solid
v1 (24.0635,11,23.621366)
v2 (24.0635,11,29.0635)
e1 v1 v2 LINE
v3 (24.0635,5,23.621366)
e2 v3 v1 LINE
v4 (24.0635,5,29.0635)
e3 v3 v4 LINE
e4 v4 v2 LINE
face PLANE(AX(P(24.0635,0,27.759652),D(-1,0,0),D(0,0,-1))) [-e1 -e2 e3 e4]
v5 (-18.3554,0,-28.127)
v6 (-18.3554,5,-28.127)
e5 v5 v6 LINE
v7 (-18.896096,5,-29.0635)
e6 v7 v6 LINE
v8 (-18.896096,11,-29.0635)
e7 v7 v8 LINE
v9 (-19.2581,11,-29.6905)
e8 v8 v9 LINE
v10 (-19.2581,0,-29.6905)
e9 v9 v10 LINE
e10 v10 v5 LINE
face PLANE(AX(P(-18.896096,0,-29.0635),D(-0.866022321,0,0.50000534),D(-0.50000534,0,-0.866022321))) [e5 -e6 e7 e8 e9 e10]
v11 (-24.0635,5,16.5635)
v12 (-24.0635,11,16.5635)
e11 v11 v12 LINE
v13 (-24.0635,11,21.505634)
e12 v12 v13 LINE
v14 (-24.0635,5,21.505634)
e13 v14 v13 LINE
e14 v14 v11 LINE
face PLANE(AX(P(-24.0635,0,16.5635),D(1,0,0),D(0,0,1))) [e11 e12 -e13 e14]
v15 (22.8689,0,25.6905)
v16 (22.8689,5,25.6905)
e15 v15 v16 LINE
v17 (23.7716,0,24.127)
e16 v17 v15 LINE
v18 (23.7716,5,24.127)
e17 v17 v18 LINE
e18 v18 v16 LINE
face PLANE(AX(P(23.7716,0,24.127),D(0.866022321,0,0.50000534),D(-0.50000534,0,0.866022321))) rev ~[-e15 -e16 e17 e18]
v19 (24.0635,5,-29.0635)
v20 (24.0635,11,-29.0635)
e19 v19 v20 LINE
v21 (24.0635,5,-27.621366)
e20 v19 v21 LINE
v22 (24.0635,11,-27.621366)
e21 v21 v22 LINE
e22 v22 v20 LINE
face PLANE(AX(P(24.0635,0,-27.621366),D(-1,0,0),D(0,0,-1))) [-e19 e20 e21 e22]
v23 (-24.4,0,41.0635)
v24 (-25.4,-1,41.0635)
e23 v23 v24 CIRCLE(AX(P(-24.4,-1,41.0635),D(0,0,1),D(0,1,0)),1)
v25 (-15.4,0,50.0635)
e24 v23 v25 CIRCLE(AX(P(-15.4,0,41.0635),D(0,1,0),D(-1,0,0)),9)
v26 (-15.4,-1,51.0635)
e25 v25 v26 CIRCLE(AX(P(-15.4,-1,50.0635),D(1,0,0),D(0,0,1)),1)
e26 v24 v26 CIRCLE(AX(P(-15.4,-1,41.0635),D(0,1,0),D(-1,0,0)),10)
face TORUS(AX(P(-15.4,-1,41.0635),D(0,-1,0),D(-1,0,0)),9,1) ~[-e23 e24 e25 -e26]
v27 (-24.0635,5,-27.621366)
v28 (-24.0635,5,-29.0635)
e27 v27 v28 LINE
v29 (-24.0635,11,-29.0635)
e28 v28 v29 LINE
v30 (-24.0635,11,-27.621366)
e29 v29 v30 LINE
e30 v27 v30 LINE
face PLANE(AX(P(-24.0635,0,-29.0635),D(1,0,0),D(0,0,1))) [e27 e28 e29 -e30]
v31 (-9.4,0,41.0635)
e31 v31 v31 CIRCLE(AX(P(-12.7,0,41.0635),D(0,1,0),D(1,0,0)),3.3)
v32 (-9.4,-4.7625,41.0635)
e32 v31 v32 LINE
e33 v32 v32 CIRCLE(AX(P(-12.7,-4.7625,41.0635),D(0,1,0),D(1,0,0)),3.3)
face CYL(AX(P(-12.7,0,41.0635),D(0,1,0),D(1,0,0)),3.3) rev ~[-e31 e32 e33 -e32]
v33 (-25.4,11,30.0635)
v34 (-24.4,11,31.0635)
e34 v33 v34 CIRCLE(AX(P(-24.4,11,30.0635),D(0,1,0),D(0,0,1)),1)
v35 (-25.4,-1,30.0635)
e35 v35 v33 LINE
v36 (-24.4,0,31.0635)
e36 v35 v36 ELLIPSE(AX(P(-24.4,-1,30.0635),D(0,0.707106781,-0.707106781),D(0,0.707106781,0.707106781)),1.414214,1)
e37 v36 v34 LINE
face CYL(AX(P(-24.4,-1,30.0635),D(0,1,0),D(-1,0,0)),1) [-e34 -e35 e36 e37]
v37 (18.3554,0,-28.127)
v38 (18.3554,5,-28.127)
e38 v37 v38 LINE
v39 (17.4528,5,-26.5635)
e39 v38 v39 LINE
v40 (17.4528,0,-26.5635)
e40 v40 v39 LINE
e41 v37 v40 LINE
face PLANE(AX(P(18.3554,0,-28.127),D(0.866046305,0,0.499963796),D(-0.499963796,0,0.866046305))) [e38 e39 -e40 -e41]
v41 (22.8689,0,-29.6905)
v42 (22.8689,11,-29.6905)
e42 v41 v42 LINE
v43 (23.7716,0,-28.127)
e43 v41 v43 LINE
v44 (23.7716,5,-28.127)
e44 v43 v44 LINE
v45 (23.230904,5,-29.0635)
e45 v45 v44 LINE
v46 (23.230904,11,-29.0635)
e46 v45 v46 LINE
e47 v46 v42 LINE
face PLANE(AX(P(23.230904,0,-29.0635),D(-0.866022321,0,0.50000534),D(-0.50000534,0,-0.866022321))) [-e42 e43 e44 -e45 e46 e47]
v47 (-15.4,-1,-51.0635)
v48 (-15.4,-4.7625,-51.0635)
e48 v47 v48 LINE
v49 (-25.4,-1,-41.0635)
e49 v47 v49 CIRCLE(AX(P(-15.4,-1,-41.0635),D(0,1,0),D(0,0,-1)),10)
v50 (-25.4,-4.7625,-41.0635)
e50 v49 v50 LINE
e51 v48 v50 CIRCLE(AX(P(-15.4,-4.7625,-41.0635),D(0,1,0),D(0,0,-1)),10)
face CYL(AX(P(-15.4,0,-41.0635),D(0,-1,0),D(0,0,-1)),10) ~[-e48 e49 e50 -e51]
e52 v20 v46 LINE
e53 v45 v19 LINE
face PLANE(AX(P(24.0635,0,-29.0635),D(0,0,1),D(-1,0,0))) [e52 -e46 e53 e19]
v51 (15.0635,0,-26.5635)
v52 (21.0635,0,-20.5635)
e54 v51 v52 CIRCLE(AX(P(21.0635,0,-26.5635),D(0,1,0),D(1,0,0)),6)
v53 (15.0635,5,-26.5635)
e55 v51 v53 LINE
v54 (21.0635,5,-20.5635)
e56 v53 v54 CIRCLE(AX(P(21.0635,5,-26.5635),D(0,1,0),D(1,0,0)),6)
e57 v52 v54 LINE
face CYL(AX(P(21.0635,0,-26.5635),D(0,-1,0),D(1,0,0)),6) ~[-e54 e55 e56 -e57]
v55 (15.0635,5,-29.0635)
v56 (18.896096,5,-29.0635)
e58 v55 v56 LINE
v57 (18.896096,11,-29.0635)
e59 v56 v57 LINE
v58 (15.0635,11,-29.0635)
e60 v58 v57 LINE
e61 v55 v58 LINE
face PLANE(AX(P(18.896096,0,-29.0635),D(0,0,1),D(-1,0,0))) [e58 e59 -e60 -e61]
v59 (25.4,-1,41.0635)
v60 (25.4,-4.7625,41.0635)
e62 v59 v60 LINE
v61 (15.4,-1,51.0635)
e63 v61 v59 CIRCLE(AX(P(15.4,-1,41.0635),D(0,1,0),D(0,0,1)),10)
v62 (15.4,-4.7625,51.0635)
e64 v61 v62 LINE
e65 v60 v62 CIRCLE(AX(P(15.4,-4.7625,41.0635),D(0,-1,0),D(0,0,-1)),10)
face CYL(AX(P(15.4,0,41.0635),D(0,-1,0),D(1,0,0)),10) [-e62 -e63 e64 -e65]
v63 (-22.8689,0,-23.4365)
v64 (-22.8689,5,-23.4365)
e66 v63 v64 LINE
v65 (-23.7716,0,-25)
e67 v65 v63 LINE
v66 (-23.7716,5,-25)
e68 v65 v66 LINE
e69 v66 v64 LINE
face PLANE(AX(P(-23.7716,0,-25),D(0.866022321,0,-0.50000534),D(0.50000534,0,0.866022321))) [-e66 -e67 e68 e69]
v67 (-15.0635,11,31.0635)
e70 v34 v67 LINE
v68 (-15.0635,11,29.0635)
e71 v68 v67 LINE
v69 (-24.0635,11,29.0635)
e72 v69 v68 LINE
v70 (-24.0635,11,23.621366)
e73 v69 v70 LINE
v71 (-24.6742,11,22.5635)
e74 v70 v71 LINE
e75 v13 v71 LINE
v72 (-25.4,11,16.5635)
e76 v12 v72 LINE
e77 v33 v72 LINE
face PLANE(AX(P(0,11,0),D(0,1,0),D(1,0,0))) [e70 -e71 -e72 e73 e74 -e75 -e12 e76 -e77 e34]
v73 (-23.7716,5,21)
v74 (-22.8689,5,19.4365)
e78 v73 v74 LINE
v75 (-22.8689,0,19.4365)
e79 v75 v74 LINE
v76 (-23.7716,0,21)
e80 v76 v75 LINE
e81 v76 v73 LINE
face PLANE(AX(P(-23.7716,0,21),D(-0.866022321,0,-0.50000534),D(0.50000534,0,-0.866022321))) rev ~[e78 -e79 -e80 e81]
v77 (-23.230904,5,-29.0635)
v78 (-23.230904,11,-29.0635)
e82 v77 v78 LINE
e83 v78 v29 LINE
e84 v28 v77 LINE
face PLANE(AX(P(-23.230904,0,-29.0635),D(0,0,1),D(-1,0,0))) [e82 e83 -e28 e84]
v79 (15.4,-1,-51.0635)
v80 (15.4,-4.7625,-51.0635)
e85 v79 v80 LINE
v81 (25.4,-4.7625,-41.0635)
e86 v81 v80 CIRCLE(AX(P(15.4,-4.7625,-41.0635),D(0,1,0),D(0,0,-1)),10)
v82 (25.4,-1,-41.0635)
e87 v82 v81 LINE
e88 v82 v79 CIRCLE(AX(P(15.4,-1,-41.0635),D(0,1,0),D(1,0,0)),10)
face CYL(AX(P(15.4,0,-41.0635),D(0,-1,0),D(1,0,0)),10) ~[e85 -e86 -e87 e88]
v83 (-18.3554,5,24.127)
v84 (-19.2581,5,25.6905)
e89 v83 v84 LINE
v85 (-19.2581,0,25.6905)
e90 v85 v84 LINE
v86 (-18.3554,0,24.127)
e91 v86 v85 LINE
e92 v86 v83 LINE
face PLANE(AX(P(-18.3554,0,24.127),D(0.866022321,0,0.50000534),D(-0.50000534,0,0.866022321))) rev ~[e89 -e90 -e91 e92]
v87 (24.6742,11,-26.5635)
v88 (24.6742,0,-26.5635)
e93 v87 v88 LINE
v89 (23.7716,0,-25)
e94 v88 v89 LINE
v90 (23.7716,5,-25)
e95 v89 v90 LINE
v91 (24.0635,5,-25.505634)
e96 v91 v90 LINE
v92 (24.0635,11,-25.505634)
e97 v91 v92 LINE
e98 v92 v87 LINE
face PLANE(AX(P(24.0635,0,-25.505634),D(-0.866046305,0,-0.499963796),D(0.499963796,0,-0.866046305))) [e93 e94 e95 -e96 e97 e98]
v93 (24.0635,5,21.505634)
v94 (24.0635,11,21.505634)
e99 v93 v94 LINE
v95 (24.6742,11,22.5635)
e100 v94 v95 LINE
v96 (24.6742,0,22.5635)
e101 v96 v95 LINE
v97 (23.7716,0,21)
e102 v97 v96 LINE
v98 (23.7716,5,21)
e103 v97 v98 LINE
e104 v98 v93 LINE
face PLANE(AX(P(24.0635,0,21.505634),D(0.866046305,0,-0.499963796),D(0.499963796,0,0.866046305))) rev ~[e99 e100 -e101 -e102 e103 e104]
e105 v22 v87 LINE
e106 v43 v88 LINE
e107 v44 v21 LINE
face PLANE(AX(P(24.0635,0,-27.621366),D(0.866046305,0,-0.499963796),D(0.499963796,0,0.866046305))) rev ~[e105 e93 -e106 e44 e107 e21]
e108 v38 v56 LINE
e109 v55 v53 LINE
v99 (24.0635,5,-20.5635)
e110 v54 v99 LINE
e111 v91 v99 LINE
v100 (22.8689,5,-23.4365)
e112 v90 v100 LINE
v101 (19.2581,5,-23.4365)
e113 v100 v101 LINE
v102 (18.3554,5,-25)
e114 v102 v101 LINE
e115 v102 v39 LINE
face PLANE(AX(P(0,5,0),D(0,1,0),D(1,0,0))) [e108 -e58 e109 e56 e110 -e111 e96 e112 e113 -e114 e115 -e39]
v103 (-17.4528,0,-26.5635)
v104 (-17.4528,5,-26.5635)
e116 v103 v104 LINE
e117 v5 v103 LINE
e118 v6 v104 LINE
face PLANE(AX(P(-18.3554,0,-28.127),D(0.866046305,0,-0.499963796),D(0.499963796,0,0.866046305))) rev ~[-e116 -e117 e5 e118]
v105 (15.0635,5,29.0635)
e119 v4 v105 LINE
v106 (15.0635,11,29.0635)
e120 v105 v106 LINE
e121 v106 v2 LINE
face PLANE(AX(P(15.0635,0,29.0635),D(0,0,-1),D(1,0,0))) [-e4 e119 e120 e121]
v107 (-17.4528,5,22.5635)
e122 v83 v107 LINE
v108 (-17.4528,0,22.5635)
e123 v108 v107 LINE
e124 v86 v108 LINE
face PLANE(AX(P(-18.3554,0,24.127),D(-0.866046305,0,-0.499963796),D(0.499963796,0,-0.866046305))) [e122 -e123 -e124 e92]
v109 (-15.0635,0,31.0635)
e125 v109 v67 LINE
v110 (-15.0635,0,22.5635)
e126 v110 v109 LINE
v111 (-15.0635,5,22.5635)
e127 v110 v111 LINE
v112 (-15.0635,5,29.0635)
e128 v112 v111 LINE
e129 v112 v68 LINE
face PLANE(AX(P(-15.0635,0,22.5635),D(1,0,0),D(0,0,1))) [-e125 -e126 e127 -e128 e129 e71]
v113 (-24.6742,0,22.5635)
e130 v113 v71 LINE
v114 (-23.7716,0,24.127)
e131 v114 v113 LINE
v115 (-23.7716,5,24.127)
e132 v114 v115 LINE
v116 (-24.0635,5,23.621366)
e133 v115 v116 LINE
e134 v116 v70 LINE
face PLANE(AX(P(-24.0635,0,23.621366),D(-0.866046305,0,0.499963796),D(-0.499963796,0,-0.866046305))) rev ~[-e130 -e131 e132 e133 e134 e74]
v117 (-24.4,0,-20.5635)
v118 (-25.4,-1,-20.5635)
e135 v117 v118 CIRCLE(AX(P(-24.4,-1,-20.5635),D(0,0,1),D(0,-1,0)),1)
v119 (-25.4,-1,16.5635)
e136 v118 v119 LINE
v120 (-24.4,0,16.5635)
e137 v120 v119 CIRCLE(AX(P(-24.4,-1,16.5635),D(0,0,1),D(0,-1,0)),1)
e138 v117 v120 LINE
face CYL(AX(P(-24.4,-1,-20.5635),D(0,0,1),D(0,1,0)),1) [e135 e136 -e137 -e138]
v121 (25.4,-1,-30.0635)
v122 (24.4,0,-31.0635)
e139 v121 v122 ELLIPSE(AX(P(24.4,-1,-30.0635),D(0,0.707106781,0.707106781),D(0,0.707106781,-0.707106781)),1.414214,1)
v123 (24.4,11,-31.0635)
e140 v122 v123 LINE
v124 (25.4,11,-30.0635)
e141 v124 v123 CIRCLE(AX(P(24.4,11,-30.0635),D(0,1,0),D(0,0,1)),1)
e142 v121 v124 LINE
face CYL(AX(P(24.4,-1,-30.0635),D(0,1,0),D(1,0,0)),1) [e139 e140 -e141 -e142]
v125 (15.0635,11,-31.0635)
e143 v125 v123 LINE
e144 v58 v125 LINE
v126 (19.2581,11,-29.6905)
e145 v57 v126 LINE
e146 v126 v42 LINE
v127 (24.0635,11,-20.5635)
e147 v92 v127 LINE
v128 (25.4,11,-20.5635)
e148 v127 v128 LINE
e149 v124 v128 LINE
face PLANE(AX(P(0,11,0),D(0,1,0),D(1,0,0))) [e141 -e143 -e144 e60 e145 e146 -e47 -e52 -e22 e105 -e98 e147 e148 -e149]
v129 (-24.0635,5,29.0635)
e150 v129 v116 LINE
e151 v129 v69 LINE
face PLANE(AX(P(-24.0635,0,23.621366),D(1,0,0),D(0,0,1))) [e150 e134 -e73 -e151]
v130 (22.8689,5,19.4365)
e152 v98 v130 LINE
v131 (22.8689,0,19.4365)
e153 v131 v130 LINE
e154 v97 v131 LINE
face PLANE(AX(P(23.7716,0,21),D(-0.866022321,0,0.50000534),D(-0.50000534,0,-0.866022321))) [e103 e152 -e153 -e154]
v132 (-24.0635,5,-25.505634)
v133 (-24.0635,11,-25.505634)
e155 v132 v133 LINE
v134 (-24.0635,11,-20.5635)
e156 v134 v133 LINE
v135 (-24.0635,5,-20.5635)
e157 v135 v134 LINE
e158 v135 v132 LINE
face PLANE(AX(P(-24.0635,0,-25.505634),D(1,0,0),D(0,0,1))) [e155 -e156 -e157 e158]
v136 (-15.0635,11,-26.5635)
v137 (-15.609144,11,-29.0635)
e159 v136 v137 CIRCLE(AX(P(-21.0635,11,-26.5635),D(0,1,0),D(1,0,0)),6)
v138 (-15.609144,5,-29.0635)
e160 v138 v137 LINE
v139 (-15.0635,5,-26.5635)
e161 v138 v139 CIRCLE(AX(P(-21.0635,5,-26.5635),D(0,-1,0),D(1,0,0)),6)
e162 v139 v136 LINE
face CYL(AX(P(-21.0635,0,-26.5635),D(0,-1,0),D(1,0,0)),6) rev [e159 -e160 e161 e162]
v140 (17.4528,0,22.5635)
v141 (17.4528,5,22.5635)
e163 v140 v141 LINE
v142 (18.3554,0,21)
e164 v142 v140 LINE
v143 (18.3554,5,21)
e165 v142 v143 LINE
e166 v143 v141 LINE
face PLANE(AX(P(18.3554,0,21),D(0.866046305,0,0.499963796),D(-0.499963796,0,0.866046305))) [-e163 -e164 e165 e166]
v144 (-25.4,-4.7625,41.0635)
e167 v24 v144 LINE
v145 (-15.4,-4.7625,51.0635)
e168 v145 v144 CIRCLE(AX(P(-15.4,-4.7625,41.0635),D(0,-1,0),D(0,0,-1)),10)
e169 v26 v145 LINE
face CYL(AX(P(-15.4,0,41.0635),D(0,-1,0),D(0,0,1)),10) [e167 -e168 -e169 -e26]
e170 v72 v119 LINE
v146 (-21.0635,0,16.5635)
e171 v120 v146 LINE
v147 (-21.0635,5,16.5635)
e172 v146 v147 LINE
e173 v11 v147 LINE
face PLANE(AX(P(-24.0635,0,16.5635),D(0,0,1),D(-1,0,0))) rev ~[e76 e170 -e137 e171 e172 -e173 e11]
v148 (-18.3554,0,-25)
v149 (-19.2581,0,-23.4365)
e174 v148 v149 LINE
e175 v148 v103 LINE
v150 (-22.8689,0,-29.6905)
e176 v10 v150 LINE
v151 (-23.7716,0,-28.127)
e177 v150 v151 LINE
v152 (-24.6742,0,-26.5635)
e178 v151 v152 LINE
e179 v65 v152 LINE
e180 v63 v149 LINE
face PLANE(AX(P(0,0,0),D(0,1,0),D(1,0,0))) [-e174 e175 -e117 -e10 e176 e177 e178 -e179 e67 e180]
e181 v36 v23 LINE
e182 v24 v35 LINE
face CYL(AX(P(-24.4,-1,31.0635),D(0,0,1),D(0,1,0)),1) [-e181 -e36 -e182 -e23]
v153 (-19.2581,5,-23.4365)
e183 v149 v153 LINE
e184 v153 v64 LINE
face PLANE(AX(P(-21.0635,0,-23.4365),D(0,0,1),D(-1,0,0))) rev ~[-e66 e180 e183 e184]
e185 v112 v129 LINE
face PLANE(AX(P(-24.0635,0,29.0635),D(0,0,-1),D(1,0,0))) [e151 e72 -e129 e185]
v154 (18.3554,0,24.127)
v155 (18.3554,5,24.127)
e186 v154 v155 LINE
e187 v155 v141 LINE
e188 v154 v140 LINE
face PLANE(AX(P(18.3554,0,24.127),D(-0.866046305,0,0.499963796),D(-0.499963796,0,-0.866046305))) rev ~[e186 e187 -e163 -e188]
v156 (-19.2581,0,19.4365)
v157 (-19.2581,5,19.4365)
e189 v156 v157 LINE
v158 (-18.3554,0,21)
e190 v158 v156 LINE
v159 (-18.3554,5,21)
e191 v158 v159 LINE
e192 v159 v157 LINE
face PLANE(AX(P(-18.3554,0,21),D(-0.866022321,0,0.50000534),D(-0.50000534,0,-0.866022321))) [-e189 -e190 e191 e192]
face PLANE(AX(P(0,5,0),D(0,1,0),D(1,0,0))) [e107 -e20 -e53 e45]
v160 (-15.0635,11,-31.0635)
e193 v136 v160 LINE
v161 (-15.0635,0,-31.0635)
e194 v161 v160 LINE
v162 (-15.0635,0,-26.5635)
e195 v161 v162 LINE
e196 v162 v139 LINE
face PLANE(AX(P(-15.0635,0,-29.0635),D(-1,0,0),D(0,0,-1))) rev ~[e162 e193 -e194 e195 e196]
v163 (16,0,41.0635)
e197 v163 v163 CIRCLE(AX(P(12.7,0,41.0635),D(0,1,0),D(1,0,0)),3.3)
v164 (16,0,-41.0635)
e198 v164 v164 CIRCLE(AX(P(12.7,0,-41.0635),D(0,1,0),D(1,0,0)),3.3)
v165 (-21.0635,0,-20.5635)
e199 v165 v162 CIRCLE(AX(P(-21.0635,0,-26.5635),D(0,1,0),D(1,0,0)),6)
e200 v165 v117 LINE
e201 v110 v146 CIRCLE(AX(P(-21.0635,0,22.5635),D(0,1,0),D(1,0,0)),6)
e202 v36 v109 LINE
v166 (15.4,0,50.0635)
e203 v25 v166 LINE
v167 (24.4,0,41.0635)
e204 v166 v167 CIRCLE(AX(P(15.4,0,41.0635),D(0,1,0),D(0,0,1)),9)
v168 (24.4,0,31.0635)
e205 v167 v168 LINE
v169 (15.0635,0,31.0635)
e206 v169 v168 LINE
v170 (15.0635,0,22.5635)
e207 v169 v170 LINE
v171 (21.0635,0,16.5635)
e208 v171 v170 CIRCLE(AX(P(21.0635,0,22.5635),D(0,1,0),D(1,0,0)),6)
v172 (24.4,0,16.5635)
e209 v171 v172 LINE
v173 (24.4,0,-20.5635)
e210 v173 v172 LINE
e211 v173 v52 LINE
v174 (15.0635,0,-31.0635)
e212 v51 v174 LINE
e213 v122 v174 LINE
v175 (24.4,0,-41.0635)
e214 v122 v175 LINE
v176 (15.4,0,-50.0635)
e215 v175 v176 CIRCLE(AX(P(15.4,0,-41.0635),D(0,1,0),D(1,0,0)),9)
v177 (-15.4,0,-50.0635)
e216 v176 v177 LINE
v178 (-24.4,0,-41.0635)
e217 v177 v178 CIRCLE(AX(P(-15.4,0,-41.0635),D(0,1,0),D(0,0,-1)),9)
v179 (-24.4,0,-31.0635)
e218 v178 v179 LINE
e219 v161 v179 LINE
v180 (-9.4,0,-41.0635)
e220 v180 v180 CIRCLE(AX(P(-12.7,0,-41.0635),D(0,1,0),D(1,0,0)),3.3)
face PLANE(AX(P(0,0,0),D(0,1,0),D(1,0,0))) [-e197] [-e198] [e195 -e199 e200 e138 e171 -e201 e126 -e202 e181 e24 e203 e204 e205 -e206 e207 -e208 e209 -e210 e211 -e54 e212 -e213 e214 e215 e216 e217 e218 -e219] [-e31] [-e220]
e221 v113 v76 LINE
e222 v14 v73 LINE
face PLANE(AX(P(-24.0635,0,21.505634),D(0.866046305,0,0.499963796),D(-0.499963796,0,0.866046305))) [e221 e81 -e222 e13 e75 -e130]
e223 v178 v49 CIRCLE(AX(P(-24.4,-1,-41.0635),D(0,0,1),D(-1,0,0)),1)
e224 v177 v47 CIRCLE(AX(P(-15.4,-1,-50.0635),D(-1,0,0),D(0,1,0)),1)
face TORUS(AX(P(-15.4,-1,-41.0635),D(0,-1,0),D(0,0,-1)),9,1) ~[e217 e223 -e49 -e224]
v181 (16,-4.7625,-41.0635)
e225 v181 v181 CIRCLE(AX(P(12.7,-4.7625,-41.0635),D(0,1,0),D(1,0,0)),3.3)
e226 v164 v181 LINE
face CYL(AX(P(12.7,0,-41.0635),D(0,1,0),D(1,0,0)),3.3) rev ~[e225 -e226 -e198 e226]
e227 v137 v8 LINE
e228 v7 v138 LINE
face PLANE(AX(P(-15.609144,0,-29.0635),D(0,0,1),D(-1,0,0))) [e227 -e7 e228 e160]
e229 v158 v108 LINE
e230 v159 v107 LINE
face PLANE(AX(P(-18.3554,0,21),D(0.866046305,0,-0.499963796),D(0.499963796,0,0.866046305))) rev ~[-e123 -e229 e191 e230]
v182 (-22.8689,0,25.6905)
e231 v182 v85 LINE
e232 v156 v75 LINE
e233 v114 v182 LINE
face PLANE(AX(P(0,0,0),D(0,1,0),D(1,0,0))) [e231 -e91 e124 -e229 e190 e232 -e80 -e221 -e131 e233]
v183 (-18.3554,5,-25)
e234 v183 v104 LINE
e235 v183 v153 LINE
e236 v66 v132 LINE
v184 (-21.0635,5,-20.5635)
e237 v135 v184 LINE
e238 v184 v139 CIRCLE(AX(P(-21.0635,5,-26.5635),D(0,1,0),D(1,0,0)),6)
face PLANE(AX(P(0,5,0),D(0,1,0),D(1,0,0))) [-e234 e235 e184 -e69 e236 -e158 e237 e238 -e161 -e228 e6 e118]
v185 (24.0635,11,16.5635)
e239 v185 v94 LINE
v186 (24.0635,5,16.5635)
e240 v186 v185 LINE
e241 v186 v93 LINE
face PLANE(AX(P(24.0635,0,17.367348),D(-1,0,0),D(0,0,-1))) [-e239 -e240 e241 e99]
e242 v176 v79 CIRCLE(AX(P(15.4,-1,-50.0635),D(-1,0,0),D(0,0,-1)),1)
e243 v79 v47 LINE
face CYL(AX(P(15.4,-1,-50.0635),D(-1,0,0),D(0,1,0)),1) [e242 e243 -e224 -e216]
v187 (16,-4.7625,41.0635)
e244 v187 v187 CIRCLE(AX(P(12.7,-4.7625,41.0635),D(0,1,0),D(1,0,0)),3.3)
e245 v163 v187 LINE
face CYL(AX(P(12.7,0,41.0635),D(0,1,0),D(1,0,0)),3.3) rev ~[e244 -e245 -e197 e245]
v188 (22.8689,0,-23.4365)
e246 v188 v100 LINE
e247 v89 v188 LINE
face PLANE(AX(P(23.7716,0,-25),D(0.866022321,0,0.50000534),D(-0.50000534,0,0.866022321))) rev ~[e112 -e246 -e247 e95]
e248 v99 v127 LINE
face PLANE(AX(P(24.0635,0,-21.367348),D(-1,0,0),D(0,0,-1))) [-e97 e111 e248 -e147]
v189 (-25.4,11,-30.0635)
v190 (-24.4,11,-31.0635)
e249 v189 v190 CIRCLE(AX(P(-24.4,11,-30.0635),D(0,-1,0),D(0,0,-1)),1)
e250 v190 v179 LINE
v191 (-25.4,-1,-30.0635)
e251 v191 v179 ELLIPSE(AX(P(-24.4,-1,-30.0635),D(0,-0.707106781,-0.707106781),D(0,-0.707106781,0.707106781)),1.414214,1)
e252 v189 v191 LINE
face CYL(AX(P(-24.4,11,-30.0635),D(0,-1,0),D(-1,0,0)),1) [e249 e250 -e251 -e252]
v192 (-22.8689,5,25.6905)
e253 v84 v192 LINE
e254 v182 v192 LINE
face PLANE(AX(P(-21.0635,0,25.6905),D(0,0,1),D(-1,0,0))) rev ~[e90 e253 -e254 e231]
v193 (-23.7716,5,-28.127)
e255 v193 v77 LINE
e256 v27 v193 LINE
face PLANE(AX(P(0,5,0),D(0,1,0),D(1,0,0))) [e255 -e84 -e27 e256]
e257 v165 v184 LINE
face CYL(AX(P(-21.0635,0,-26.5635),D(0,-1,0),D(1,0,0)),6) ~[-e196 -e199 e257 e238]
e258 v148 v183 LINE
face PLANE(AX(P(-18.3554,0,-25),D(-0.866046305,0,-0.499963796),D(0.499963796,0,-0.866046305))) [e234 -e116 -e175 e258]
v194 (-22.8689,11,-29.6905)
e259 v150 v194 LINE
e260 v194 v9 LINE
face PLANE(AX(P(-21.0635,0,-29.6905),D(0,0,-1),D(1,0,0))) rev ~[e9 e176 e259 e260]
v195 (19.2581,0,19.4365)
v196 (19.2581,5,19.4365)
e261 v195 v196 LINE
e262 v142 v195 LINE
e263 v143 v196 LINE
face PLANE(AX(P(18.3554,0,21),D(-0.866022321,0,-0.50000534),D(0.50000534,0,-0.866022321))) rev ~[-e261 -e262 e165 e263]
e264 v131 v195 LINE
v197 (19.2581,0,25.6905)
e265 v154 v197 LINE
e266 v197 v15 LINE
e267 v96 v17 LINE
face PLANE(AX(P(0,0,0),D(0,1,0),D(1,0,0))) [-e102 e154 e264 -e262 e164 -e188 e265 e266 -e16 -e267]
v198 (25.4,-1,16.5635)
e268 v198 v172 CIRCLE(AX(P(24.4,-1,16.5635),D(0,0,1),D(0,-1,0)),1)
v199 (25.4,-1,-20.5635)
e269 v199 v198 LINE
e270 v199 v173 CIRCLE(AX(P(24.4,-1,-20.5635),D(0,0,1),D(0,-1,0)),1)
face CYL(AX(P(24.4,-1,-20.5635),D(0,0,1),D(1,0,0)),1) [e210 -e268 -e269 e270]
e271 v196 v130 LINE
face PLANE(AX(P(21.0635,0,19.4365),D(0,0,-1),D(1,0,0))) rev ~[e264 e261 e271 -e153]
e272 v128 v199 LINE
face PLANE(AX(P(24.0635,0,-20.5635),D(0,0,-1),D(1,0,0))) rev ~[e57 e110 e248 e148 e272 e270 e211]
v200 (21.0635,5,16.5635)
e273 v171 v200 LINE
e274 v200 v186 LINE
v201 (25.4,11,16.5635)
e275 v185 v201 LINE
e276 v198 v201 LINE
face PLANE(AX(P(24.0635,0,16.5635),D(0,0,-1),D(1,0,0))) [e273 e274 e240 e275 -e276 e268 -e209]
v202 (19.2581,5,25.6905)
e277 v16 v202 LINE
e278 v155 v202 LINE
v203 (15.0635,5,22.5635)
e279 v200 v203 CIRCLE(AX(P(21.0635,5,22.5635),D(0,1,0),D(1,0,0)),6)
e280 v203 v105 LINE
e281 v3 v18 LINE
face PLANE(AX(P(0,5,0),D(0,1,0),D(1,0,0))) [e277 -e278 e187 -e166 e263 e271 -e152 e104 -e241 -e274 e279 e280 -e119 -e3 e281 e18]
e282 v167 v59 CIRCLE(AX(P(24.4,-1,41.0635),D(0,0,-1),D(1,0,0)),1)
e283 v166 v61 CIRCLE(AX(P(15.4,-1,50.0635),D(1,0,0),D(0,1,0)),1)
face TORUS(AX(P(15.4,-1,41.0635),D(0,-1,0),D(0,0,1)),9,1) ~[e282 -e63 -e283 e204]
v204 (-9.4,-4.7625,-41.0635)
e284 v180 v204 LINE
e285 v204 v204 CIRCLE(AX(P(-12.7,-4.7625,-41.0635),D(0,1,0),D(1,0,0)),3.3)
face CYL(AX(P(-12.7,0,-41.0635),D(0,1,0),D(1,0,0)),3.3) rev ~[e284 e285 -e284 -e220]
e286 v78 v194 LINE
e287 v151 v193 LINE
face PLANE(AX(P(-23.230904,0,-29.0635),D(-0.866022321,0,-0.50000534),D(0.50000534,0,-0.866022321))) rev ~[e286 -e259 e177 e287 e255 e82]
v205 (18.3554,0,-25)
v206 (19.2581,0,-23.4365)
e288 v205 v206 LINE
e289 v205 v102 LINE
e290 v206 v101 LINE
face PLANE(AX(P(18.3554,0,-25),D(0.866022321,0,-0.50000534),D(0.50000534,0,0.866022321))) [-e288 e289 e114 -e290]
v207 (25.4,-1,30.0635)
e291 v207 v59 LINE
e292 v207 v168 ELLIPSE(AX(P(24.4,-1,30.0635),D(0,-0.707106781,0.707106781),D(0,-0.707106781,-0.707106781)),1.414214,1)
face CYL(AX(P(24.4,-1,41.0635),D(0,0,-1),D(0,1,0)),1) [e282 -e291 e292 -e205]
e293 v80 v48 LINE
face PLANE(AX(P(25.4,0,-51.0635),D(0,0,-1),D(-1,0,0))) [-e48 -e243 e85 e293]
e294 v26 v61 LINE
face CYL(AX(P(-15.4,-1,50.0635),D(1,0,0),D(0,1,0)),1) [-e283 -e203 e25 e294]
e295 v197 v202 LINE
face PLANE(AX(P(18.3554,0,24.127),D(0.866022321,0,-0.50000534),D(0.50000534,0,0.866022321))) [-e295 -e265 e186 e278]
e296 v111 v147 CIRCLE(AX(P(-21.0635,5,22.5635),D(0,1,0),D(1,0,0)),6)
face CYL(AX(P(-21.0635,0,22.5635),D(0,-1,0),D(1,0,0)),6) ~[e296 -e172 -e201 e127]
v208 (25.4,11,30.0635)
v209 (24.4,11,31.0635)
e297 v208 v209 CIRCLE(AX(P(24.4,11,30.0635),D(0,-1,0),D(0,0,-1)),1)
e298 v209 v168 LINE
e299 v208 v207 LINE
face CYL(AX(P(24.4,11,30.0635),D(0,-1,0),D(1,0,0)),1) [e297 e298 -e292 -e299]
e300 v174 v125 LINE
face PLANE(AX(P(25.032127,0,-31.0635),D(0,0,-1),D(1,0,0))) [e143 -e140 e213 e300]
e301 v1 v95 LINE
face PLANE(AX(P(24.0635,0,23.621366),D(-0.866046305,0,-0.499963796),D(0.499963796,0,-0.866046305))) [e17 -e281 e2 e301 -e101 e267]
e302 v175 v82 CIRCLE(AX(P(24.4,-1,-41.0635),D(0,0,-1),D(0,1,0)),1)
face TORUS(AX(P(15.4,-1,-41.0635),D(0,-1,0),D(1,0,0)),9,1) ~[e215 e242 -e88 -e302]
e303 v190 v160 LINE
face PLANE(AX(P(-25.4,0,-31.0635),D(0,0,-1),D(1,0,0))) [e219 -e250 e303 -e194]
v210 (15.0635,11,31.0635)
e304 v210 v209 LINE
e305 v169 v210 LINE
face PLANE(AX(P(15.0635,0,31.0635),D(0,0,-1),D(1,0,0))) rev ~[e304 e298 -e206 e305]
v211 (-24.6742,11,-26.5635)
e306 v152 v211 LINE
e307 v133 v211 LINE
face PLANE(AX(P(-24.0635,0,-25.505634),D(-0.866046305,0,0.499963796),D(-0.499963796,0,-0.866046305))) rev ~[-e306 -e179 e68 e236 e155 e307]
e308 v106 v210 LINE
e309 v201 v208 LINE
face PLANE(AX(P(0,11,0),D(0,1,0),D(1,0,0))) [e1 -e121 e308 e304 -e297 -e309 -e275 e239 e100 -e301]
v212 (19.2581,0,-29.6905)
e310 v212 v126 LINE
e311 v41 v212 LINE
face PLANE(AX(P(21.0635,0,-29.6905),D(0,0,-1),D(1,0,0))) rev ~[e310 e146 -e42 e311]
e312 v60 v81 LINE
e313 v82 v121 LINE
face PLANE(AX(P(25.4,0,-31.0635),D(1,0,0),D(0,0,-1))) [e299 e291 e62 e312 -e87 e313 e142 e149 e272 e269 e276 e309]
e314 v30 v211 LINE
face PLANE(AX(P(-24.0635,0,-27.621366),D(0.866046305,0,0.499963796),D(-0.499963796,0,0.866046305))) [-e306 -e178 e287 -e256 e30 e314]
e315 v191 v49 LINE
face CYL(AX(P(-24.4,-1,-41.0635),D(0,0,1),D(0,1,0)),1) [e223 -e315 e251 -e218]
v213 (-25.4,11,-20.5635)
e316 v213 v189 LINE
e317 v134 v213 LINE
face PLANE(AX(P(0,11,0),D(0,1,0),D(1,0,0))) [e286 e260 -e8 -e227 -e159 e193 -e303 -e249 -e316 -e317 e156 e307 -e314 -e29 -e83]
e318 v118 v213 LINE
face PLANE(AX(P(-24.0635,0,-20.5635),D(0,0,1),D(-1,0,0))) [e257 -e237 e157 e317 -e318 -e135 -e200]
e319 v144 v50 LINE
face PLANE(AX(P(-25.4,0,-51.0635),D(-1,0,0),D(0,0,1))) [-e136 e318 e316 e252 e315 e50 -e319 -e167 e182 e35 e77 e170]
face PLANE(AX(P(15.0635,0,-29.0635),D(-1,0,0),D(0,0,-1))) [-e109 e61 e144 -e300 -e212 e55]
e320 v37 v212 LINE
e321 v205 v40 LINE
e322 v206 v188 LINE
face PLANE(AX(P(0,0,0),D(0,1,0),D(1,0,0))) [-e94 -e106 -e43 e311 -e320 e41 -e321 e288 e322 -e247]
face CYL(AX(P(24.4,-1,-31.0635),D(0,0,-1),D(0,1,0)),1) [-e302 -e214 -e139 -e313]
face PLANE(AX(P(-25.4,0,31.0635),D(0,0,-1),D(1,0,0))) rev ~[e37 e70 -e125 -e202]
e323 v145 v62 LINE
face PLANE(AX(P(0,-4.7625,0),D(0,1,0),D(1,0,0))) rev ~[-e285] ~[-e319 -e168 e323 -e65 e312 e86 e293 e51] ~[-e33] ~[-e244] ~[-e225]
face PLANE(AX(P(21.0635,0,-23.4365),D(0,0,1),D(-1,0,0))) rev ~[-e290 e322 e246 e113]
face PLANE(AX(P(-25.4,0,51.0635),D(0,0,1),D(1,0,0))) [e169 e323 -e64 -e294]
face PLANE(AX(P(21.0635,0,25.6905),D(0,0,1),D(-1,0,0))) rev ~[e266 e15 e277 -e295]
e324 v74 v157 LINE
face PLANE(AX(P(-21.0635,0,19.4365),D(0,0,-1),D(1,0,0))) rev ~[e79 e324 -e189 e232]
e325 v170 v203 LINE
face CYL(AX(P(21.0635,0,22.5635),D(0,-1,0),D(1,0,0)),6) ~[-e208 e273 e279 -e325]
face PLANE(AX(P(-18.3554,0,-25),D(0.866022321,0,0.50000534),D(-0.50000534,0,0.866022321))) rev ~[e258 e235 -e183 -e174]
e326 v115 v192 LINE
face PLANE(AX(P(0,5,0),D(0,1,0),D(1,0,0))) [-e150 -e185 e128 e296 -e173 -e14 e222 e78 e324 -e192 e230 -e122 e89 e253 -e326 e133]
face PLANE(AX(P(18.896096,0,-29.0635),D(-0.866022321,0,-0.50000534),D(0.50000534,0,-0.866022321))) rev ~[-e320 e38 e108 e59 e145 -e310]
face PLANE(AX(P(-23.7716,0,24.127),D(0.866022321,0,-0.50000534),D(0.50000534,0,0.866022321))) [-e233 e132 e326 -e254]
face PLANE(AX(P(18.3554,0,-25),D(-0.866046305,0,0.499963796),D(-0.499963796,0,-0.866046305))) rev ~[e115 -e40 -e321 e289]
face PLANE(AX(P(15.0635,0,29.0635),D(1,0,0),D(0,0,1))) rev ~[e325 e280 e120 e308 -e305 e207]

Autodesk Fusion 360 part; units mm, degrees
sketch "Sketch1" plane through (0, 0, 0) normal (0, 1, 0) x (1, 0, 0)
  line L0 (0, 0) -> (42.469, 0) construction
  line L1 (0, 0) -> (0, 48.4717) construction
  line L2 (25.4, 51.0635) -> (-25.4, 51.0635)
  line L3 (-25.4, 51.0635) -> (-25.4, -51.0635)
  line L4 (-25.4, -51.0635) -> (25.4, -51.0635)
  line L5 (25.4, -51.0635) -> (25.4, 51.0635)
  line L6 (25.4, 51.0635) -> (-25.4, -51.0635) construction
  line L7 (-25.4, 51.0635) -> (25.4, -51.0635) construction
  line L8 (24.0635, 29.0635) -> (-24.0635, 29.0635)
  line L9 (-24.0635, 29.0635) -> (-24.0635, -29.0635)
  line L10 (-24.0635, -29.0635) -> (24.0635, -29.0635)
  line L11 (24.0635, -29.0635) -> (24.0635, 29.0635)
  line L12 (24.0635, 29.0635) -> (-24.0635, -29.0635) construction
  line L13 (-24.0635, 29.0635) -> (24.0635, -29.0635) construction
  circle A0 centre (-21.0635, 26.5635) radius 3.127 construction
  line L14 (-21.0635, 29.6905) -> (-19.2581, 29.6905)
  line L15 (-21.0635, 26.5635) -> (-21.0635, 33) construction
  line L16 (-21.0635, 29.6905) -> (-22.8689, 29.6905)
  line L17 (-23.7716, 28.127) -> (-22.8689, 29.6905)
  line L18 (-23.7716, 28.127) -> (-24.6742, 26.5635)
  line L19 (-23.7716, 25) -> (-24.6742, 26.5635)
  line L20 (-23.7716, 25) -> (-22.8689, 23.4365)
  line L21 (-21.0635, 23.4365) -> (-22.8689, 23.4365)
  line L22 (-21.0635, 23.4365) -> (-19.2581, 23.4365)
  line L23 (-18.3554, 25) -> (-19.2581, 23.4365)
  line L24 (-18.3554, 25) -> (-17.4528, 26.5635)
  line L25 (-18.3554, 28.127) -> (-17.4528, 26.5635)
  line L26 (-18.3554, 28.127) -> (-19.2581, 29.6905)
  line L27 (-25.4, 31.0635) -> (25.4, 31.0635)
  line L28 (-24, 2) -> (-9, 2) construction
  line L29 (18.3554, 28.127) -> (17.4528, 26.5635)
  line L30 (18.3554, 28.127) -> (19.2581, 29.6905)
  line L31 (21.0635, 29.6905) -> (19.2581, 29.6905)
  line L32 (21.0635, 29.6905) -> (22.8689, 29.6905)
  line L33 (23.7716, 28.127) -> (22.8689, 29.6905)
  line L34 (23.7716, 28.127) -> (24.6742, 26.5635)
  line L35 (23.7716, 25) -> (24.6742, 26.5635)
  line L36 (23.7716, 25) -> (22.8689, 23.4365)
  line L37 (21.0635, 23.4365) -> (22.8689, 23.4365)
  line L38 (21.0635, 23.4365) -> (19.2581, 23.4365)
  line L39 (18.3554, 25) -> (19.2581, 23.4365)
  line L40 (18.3554, 25) -> (17.4528, 26.5635)
  line L41 (-21.0635, -25.6905) -> (-19.2581, -25.6905)
  line L42 (-21.0635, -25.6905) -> (-22.8689, -25.6905)
  line L43 (-23.7716, -24.127) -> (-22.8689, -25.6905)
  line L44 (-23.7716, -24.127) -> (-24.6742, -22.5635)
  line L45 (-23.7716, -21) -> (-24.6742, -22.5635)
  line L46 (-23.7716, -21) -> (-22.8689, -19.4365)
  line L47 (-21.0635, -19.4365) -> (-22.8689, -19.4365)
  line L48 (-21.0635, -19.4365) -> (-19.2581, -19.4365)
  line L49 (-18.3554, -21) -> (-19.2581, -19.4365)
  line L50 (-18.3554, -21) -> (-17.4528, -22.5635)
  line L51 (-18.3554, -24.127) -> (-17.4528, -22.5635)
  line L52 (-18.3554, -24.127) -> (-19.2581, -25.6905)
  line L53 (21.0635, -25.6905) -> (19.2581, -25.6905)
  line L54 (21.0635, -25.6905) -> (22.8689, -25.6905)
  line L55 (23.7716, -24.127) -> (22.8689, -25.6905)
  line L56 (23.7716, -24.127) -> (24.6742, -22.5635)
  line L57 (23.7716, -21) -> (24.6742, -22.5635)
  line L58 (23.7716, -21) -> (22.8689, -19.4365)
  line L59 (21.0635, -19.4365) -> (22.8689, -19.4365)
  line L60 (21.0635, -19.4365) -> (19.2581, -19.4365)
  line L61 (18.3554, -21) -> (19.2581, -19.4365)
  line L62 (18.3554, -21) -> (17.4528, -22.5635)
  line L63 (18.3554, -24.127) -> (17.4528, -22.5635)
  line L64 (18.3554, -24.127) -> (19.2581, -25.6905)
  line L65 (-25.4, -31.0635) -> (25.4, -31.0635)
  circle A1 centre (-12.7, 41.0635) radius 3.3
  circle A2 centre (12.7, 41.0635) radius 3.3
  circle A3 centre (12.7, -41.0635) radius 3.3
  circle A4 centre (-12.7, -41.0635) radius 3.3
  circle A5 centre (-21.0635, 26.5635) radius 6
  line L66 (-21.0635, 20.5635) -> (-25.4, 20.5635)
  line L67 (-15.0635, 26.5635) -> (-15.0635, 31.0635)
  line L68 (21.0635, 20.5635) -> (25.4, 20.5635)
  circle A6 centre (21.0635, 26.5635) radius 6
  line L69 (15.0635, 26.5635) -> (15.0635, 31.0635)
  circle A7 centre (21.0635, -22.5635) radius 6
  line L70 (15.0635, -22.5635) -> (15.0635, -27.0635)
  line L71 (21.0635, -16.5635) -> (25.4, -16.5635)
  circle A8 centre (-21.0635, -22.5635) radius 6
  line L72 (-21.0635, -16.5635) -> (-25.4, -16.5635)
  line L73 (-15.0635, -22.5635) -> (-15.0635, -27.0635)
  line L74 (-15.0635, -27.0635) -> (-15.0635, -31.0635)
  line L75 (15.0635, -27.0635) -> (15.0635, -31.0635)
  point P0 (-21.0635, 26.5635)
  point P1 (-21.0635, -22.5635)
  dimension "d24" = 50.8
  dimension "d26" = 58.127
  dimension "d27" = 48.127
  dimension "d28" = 3
  dimension "d29" = 2.5
  dimension "d30" = 6.254
  dimension "d32" = 360
  dimension "d33" = 6.5
  dimension "d34" = 2
  dimension "d35" = 6.6
  dimension "d36" = 12.7
  dimension "d37" = 10
  dimension "d38" = 10
  dimension "d41" = 12
extrude "Extrude1" add sketch "Sketch1" against normal blind 4.7625 contours L2 L3 L5 L27 A5 A6 | L5 L27 A6 | L3 L27 A5 | L5 L8 L11 L27 L30 L31 L32 L33 L34 L35 A6 | L27 A6 | L3 L8 L9 L14 L16 L17 L18 L19 L26 L27 A5 | L27 A5 | L5 L11 L68 A6 | L8 L27 A6 L69 | L3 L9 A5 L66 | L8 L27 A5 L67 | L5 L11 L68 L71 | L8 L11 L29 L30 L35 L36 L37 L38 L39 L40 A6 | L11 L68 A6 | L8 L27 L67 L69 | L8 A6 L69 | L3 L9 L66 L72 | L9 A5 L66 | L8 L9 L19 L20 L21 L22 L23 L24 L25 L26 A5 | L8 A5 L67 | L5 L11 A7 L71 | L8 L9 L10 L11 A5 L66 L67 L68 A6 L69 A7 L70 L71 A8 L72 L73 L74 L75 | L8 L11 L29 L30 L33 L34 L35 L36 L37 L38 L39 L40 | L11 L34 L35 | L8 L30 L31 L32 L33 | L3 L9 A8 L72 | L9 L18 L19 | L8 L9 L17 L18 L19 L20 L21 L22 L23 L24 L25 L26 | L8 L14 L16 L17 L26 | L5 L11 L56 L57 A7 | L11 A7 L71 | L8 L11 L33 L34 | L3 L9 L44 L45 A8 | L9 A8 L72 | L8 L9 L17 L18 | L5 L10 L11 L65 A7 L75 | L11 L53 L54 L55 L56 L57 L58 L59 L60 L61 L62 L63 L64 A7 | L3 L9 L10 L65 A8 L74 | L9 L41 L42 L43 L44 L45 L46 L47 L48 L49 L50 L51 L52 A8 | L3 L4 L5 L65 | L10 L11 A7 L70 L75 | L11 L56 L57 | L11 L53 L54 L55 L56 L57 L58 L59 L60 L61 L62 L63 L64 | L9 L10 A8 L73 L74 | L9 L41 L42 L43 L44 L45 L46 L47 L48 L49 L50 L51 L52 | L9 L44 L45 | L10 L65 L74 L75
extrude "Extrude2" add sketch "Sketch1" along normal blind 5 contours L5 L27 A6 | L3 L27 A5 | L5 L8 L11 L27 L30 L31 L32 L33 L34 L35 A6 | L3 L8 L9 L14 L16 L17 L18 L19 L26 L27 A5 | L5 L11 L68 A6 | L8 L27 A6 L69 | L3 L9 A5 L66 | L8 L27 A5 L67 | L8 L11 L29 L30 L35 L36 L37 L38 L39 L40 A6 | L11 L68 A6 | L8 A6 L69 | L9 A5 L66 | L8 L9 L19 L20 L21 L22 L23 L24 L25 L26 A5 | L8 A5 L67 | L5 L11 A7 L71 | L3 L9 A8 L72 | L5 L11 L56 L57 A7 | L11 A7 L71 | L8 L11 L33 L34 | L3 L9 L44 L45 A8 | L9 A8 L72 | L8 L9 L17 L18 | L5 L10 L11 L65 A7 L75 | L11 L53 L54 L55 L56 L57 L58 L59 L60 L61 L62 L63 L64 A7 | L3 L9 L10 L65 A8 L74 | L9 L41 L42 L43 L44 L45 L46 L47 L48 L49 L50 L51 L52 A8 | L10 L11 A7 L70 L75 | L9 L10 A8 L73 L74
extrude "Extrude3" add sketch "Sketch1" along normal blind 11 contours L5 L27 A6 | L3 L27 A5 | L5 L8 L11 L27 L30 L31 L32 L33 L34 L35 A6 | L3 L8 L9 L14 L16 L17 L18 L19 L26 L27 A5 | L5 L11 L68 A6 | L8 L27 A6 L69 | L3 L9 A5 L66 | L8 L27 A5 L67 | L8 A5 L67 | L5 L11 A7 L71 | L3 L9 A8 L72 | L5 L11 L56 L57 A7 | L3 L9 L44 L45 A8 | L5 L10 L11 L65 A7 L75 | L3 L9 L10 L65 A8 L74
fillet "Fillet1" radius 10 4 edges at (-25.4, -2.3813, 51.0635) (25.4, -2.3813, 51.0635) (-25.4, -2.3813, -51.0635) (25.4, -2.3813, -51.0635)
fillet "Fillet2" radius 1 12 edges at (-25.4, 0, 36.0635) (-22.4711, 0, 48.1346) (0, 0, 51.0635) (22.4711, 0, 48.1346) (25.4, 0, 36.0635) (25.4, 0, -2) (-25.4, 0, -2) (-25.4, 0, -36.0635) (-22.4711, 0, -48.1346) (0, 0, -51.0635) (22.4711, 0, -48.1346) (25.4, 0, -36.0635)
fillet "Fillet3" radius 1 4 edges at (25.4, 5, -31.0635) (25.4, 5, 31.0635) (-25.4, 5, 31.0635) (-25.4, 5, -31.0635)
equation "fitNormal = 0.254 mm"
equation "fitLoose = 0.508 mm"
equation "fitTight = 0.127 mm"
equation "axleToTop = 9.5 mm"
equation "xl330Height = 34 mm"
equation "axletoBottom = xl330Height - axleToTop"
equation "axleDiameter = 16 mm"
equation "boltDiameter = 1.6 mm"
equation "xl330Width = 20 mm"
equation "xl330Length = 23 mm"
equation "l2x = 30 mm"
equation "l3x = 157 mm"
equation "l3y = 9 mm"
equation "baseMount = 10 mm"
equation "l4x = -2 mm + axleToTop + 30 mm + xl330Length"
equation "l4y = 32 mm"
equation "axleDepth = 3 mm"
equation "capOuterWidth = 30 mm"
equation "capHeight = 25 mm"
equation "jcBracketHeight = 8.2 mm"
equation "jcBracketLength = 97.307 mm"
equation "jcWidth = 34 mm"
equation "capToTop = 40 mm"
equation "d26 = 58 mm + fitTight"
equation "d27 = 48 mm + fitTight"
equation "d30 = 6 mm + fitNormal"
